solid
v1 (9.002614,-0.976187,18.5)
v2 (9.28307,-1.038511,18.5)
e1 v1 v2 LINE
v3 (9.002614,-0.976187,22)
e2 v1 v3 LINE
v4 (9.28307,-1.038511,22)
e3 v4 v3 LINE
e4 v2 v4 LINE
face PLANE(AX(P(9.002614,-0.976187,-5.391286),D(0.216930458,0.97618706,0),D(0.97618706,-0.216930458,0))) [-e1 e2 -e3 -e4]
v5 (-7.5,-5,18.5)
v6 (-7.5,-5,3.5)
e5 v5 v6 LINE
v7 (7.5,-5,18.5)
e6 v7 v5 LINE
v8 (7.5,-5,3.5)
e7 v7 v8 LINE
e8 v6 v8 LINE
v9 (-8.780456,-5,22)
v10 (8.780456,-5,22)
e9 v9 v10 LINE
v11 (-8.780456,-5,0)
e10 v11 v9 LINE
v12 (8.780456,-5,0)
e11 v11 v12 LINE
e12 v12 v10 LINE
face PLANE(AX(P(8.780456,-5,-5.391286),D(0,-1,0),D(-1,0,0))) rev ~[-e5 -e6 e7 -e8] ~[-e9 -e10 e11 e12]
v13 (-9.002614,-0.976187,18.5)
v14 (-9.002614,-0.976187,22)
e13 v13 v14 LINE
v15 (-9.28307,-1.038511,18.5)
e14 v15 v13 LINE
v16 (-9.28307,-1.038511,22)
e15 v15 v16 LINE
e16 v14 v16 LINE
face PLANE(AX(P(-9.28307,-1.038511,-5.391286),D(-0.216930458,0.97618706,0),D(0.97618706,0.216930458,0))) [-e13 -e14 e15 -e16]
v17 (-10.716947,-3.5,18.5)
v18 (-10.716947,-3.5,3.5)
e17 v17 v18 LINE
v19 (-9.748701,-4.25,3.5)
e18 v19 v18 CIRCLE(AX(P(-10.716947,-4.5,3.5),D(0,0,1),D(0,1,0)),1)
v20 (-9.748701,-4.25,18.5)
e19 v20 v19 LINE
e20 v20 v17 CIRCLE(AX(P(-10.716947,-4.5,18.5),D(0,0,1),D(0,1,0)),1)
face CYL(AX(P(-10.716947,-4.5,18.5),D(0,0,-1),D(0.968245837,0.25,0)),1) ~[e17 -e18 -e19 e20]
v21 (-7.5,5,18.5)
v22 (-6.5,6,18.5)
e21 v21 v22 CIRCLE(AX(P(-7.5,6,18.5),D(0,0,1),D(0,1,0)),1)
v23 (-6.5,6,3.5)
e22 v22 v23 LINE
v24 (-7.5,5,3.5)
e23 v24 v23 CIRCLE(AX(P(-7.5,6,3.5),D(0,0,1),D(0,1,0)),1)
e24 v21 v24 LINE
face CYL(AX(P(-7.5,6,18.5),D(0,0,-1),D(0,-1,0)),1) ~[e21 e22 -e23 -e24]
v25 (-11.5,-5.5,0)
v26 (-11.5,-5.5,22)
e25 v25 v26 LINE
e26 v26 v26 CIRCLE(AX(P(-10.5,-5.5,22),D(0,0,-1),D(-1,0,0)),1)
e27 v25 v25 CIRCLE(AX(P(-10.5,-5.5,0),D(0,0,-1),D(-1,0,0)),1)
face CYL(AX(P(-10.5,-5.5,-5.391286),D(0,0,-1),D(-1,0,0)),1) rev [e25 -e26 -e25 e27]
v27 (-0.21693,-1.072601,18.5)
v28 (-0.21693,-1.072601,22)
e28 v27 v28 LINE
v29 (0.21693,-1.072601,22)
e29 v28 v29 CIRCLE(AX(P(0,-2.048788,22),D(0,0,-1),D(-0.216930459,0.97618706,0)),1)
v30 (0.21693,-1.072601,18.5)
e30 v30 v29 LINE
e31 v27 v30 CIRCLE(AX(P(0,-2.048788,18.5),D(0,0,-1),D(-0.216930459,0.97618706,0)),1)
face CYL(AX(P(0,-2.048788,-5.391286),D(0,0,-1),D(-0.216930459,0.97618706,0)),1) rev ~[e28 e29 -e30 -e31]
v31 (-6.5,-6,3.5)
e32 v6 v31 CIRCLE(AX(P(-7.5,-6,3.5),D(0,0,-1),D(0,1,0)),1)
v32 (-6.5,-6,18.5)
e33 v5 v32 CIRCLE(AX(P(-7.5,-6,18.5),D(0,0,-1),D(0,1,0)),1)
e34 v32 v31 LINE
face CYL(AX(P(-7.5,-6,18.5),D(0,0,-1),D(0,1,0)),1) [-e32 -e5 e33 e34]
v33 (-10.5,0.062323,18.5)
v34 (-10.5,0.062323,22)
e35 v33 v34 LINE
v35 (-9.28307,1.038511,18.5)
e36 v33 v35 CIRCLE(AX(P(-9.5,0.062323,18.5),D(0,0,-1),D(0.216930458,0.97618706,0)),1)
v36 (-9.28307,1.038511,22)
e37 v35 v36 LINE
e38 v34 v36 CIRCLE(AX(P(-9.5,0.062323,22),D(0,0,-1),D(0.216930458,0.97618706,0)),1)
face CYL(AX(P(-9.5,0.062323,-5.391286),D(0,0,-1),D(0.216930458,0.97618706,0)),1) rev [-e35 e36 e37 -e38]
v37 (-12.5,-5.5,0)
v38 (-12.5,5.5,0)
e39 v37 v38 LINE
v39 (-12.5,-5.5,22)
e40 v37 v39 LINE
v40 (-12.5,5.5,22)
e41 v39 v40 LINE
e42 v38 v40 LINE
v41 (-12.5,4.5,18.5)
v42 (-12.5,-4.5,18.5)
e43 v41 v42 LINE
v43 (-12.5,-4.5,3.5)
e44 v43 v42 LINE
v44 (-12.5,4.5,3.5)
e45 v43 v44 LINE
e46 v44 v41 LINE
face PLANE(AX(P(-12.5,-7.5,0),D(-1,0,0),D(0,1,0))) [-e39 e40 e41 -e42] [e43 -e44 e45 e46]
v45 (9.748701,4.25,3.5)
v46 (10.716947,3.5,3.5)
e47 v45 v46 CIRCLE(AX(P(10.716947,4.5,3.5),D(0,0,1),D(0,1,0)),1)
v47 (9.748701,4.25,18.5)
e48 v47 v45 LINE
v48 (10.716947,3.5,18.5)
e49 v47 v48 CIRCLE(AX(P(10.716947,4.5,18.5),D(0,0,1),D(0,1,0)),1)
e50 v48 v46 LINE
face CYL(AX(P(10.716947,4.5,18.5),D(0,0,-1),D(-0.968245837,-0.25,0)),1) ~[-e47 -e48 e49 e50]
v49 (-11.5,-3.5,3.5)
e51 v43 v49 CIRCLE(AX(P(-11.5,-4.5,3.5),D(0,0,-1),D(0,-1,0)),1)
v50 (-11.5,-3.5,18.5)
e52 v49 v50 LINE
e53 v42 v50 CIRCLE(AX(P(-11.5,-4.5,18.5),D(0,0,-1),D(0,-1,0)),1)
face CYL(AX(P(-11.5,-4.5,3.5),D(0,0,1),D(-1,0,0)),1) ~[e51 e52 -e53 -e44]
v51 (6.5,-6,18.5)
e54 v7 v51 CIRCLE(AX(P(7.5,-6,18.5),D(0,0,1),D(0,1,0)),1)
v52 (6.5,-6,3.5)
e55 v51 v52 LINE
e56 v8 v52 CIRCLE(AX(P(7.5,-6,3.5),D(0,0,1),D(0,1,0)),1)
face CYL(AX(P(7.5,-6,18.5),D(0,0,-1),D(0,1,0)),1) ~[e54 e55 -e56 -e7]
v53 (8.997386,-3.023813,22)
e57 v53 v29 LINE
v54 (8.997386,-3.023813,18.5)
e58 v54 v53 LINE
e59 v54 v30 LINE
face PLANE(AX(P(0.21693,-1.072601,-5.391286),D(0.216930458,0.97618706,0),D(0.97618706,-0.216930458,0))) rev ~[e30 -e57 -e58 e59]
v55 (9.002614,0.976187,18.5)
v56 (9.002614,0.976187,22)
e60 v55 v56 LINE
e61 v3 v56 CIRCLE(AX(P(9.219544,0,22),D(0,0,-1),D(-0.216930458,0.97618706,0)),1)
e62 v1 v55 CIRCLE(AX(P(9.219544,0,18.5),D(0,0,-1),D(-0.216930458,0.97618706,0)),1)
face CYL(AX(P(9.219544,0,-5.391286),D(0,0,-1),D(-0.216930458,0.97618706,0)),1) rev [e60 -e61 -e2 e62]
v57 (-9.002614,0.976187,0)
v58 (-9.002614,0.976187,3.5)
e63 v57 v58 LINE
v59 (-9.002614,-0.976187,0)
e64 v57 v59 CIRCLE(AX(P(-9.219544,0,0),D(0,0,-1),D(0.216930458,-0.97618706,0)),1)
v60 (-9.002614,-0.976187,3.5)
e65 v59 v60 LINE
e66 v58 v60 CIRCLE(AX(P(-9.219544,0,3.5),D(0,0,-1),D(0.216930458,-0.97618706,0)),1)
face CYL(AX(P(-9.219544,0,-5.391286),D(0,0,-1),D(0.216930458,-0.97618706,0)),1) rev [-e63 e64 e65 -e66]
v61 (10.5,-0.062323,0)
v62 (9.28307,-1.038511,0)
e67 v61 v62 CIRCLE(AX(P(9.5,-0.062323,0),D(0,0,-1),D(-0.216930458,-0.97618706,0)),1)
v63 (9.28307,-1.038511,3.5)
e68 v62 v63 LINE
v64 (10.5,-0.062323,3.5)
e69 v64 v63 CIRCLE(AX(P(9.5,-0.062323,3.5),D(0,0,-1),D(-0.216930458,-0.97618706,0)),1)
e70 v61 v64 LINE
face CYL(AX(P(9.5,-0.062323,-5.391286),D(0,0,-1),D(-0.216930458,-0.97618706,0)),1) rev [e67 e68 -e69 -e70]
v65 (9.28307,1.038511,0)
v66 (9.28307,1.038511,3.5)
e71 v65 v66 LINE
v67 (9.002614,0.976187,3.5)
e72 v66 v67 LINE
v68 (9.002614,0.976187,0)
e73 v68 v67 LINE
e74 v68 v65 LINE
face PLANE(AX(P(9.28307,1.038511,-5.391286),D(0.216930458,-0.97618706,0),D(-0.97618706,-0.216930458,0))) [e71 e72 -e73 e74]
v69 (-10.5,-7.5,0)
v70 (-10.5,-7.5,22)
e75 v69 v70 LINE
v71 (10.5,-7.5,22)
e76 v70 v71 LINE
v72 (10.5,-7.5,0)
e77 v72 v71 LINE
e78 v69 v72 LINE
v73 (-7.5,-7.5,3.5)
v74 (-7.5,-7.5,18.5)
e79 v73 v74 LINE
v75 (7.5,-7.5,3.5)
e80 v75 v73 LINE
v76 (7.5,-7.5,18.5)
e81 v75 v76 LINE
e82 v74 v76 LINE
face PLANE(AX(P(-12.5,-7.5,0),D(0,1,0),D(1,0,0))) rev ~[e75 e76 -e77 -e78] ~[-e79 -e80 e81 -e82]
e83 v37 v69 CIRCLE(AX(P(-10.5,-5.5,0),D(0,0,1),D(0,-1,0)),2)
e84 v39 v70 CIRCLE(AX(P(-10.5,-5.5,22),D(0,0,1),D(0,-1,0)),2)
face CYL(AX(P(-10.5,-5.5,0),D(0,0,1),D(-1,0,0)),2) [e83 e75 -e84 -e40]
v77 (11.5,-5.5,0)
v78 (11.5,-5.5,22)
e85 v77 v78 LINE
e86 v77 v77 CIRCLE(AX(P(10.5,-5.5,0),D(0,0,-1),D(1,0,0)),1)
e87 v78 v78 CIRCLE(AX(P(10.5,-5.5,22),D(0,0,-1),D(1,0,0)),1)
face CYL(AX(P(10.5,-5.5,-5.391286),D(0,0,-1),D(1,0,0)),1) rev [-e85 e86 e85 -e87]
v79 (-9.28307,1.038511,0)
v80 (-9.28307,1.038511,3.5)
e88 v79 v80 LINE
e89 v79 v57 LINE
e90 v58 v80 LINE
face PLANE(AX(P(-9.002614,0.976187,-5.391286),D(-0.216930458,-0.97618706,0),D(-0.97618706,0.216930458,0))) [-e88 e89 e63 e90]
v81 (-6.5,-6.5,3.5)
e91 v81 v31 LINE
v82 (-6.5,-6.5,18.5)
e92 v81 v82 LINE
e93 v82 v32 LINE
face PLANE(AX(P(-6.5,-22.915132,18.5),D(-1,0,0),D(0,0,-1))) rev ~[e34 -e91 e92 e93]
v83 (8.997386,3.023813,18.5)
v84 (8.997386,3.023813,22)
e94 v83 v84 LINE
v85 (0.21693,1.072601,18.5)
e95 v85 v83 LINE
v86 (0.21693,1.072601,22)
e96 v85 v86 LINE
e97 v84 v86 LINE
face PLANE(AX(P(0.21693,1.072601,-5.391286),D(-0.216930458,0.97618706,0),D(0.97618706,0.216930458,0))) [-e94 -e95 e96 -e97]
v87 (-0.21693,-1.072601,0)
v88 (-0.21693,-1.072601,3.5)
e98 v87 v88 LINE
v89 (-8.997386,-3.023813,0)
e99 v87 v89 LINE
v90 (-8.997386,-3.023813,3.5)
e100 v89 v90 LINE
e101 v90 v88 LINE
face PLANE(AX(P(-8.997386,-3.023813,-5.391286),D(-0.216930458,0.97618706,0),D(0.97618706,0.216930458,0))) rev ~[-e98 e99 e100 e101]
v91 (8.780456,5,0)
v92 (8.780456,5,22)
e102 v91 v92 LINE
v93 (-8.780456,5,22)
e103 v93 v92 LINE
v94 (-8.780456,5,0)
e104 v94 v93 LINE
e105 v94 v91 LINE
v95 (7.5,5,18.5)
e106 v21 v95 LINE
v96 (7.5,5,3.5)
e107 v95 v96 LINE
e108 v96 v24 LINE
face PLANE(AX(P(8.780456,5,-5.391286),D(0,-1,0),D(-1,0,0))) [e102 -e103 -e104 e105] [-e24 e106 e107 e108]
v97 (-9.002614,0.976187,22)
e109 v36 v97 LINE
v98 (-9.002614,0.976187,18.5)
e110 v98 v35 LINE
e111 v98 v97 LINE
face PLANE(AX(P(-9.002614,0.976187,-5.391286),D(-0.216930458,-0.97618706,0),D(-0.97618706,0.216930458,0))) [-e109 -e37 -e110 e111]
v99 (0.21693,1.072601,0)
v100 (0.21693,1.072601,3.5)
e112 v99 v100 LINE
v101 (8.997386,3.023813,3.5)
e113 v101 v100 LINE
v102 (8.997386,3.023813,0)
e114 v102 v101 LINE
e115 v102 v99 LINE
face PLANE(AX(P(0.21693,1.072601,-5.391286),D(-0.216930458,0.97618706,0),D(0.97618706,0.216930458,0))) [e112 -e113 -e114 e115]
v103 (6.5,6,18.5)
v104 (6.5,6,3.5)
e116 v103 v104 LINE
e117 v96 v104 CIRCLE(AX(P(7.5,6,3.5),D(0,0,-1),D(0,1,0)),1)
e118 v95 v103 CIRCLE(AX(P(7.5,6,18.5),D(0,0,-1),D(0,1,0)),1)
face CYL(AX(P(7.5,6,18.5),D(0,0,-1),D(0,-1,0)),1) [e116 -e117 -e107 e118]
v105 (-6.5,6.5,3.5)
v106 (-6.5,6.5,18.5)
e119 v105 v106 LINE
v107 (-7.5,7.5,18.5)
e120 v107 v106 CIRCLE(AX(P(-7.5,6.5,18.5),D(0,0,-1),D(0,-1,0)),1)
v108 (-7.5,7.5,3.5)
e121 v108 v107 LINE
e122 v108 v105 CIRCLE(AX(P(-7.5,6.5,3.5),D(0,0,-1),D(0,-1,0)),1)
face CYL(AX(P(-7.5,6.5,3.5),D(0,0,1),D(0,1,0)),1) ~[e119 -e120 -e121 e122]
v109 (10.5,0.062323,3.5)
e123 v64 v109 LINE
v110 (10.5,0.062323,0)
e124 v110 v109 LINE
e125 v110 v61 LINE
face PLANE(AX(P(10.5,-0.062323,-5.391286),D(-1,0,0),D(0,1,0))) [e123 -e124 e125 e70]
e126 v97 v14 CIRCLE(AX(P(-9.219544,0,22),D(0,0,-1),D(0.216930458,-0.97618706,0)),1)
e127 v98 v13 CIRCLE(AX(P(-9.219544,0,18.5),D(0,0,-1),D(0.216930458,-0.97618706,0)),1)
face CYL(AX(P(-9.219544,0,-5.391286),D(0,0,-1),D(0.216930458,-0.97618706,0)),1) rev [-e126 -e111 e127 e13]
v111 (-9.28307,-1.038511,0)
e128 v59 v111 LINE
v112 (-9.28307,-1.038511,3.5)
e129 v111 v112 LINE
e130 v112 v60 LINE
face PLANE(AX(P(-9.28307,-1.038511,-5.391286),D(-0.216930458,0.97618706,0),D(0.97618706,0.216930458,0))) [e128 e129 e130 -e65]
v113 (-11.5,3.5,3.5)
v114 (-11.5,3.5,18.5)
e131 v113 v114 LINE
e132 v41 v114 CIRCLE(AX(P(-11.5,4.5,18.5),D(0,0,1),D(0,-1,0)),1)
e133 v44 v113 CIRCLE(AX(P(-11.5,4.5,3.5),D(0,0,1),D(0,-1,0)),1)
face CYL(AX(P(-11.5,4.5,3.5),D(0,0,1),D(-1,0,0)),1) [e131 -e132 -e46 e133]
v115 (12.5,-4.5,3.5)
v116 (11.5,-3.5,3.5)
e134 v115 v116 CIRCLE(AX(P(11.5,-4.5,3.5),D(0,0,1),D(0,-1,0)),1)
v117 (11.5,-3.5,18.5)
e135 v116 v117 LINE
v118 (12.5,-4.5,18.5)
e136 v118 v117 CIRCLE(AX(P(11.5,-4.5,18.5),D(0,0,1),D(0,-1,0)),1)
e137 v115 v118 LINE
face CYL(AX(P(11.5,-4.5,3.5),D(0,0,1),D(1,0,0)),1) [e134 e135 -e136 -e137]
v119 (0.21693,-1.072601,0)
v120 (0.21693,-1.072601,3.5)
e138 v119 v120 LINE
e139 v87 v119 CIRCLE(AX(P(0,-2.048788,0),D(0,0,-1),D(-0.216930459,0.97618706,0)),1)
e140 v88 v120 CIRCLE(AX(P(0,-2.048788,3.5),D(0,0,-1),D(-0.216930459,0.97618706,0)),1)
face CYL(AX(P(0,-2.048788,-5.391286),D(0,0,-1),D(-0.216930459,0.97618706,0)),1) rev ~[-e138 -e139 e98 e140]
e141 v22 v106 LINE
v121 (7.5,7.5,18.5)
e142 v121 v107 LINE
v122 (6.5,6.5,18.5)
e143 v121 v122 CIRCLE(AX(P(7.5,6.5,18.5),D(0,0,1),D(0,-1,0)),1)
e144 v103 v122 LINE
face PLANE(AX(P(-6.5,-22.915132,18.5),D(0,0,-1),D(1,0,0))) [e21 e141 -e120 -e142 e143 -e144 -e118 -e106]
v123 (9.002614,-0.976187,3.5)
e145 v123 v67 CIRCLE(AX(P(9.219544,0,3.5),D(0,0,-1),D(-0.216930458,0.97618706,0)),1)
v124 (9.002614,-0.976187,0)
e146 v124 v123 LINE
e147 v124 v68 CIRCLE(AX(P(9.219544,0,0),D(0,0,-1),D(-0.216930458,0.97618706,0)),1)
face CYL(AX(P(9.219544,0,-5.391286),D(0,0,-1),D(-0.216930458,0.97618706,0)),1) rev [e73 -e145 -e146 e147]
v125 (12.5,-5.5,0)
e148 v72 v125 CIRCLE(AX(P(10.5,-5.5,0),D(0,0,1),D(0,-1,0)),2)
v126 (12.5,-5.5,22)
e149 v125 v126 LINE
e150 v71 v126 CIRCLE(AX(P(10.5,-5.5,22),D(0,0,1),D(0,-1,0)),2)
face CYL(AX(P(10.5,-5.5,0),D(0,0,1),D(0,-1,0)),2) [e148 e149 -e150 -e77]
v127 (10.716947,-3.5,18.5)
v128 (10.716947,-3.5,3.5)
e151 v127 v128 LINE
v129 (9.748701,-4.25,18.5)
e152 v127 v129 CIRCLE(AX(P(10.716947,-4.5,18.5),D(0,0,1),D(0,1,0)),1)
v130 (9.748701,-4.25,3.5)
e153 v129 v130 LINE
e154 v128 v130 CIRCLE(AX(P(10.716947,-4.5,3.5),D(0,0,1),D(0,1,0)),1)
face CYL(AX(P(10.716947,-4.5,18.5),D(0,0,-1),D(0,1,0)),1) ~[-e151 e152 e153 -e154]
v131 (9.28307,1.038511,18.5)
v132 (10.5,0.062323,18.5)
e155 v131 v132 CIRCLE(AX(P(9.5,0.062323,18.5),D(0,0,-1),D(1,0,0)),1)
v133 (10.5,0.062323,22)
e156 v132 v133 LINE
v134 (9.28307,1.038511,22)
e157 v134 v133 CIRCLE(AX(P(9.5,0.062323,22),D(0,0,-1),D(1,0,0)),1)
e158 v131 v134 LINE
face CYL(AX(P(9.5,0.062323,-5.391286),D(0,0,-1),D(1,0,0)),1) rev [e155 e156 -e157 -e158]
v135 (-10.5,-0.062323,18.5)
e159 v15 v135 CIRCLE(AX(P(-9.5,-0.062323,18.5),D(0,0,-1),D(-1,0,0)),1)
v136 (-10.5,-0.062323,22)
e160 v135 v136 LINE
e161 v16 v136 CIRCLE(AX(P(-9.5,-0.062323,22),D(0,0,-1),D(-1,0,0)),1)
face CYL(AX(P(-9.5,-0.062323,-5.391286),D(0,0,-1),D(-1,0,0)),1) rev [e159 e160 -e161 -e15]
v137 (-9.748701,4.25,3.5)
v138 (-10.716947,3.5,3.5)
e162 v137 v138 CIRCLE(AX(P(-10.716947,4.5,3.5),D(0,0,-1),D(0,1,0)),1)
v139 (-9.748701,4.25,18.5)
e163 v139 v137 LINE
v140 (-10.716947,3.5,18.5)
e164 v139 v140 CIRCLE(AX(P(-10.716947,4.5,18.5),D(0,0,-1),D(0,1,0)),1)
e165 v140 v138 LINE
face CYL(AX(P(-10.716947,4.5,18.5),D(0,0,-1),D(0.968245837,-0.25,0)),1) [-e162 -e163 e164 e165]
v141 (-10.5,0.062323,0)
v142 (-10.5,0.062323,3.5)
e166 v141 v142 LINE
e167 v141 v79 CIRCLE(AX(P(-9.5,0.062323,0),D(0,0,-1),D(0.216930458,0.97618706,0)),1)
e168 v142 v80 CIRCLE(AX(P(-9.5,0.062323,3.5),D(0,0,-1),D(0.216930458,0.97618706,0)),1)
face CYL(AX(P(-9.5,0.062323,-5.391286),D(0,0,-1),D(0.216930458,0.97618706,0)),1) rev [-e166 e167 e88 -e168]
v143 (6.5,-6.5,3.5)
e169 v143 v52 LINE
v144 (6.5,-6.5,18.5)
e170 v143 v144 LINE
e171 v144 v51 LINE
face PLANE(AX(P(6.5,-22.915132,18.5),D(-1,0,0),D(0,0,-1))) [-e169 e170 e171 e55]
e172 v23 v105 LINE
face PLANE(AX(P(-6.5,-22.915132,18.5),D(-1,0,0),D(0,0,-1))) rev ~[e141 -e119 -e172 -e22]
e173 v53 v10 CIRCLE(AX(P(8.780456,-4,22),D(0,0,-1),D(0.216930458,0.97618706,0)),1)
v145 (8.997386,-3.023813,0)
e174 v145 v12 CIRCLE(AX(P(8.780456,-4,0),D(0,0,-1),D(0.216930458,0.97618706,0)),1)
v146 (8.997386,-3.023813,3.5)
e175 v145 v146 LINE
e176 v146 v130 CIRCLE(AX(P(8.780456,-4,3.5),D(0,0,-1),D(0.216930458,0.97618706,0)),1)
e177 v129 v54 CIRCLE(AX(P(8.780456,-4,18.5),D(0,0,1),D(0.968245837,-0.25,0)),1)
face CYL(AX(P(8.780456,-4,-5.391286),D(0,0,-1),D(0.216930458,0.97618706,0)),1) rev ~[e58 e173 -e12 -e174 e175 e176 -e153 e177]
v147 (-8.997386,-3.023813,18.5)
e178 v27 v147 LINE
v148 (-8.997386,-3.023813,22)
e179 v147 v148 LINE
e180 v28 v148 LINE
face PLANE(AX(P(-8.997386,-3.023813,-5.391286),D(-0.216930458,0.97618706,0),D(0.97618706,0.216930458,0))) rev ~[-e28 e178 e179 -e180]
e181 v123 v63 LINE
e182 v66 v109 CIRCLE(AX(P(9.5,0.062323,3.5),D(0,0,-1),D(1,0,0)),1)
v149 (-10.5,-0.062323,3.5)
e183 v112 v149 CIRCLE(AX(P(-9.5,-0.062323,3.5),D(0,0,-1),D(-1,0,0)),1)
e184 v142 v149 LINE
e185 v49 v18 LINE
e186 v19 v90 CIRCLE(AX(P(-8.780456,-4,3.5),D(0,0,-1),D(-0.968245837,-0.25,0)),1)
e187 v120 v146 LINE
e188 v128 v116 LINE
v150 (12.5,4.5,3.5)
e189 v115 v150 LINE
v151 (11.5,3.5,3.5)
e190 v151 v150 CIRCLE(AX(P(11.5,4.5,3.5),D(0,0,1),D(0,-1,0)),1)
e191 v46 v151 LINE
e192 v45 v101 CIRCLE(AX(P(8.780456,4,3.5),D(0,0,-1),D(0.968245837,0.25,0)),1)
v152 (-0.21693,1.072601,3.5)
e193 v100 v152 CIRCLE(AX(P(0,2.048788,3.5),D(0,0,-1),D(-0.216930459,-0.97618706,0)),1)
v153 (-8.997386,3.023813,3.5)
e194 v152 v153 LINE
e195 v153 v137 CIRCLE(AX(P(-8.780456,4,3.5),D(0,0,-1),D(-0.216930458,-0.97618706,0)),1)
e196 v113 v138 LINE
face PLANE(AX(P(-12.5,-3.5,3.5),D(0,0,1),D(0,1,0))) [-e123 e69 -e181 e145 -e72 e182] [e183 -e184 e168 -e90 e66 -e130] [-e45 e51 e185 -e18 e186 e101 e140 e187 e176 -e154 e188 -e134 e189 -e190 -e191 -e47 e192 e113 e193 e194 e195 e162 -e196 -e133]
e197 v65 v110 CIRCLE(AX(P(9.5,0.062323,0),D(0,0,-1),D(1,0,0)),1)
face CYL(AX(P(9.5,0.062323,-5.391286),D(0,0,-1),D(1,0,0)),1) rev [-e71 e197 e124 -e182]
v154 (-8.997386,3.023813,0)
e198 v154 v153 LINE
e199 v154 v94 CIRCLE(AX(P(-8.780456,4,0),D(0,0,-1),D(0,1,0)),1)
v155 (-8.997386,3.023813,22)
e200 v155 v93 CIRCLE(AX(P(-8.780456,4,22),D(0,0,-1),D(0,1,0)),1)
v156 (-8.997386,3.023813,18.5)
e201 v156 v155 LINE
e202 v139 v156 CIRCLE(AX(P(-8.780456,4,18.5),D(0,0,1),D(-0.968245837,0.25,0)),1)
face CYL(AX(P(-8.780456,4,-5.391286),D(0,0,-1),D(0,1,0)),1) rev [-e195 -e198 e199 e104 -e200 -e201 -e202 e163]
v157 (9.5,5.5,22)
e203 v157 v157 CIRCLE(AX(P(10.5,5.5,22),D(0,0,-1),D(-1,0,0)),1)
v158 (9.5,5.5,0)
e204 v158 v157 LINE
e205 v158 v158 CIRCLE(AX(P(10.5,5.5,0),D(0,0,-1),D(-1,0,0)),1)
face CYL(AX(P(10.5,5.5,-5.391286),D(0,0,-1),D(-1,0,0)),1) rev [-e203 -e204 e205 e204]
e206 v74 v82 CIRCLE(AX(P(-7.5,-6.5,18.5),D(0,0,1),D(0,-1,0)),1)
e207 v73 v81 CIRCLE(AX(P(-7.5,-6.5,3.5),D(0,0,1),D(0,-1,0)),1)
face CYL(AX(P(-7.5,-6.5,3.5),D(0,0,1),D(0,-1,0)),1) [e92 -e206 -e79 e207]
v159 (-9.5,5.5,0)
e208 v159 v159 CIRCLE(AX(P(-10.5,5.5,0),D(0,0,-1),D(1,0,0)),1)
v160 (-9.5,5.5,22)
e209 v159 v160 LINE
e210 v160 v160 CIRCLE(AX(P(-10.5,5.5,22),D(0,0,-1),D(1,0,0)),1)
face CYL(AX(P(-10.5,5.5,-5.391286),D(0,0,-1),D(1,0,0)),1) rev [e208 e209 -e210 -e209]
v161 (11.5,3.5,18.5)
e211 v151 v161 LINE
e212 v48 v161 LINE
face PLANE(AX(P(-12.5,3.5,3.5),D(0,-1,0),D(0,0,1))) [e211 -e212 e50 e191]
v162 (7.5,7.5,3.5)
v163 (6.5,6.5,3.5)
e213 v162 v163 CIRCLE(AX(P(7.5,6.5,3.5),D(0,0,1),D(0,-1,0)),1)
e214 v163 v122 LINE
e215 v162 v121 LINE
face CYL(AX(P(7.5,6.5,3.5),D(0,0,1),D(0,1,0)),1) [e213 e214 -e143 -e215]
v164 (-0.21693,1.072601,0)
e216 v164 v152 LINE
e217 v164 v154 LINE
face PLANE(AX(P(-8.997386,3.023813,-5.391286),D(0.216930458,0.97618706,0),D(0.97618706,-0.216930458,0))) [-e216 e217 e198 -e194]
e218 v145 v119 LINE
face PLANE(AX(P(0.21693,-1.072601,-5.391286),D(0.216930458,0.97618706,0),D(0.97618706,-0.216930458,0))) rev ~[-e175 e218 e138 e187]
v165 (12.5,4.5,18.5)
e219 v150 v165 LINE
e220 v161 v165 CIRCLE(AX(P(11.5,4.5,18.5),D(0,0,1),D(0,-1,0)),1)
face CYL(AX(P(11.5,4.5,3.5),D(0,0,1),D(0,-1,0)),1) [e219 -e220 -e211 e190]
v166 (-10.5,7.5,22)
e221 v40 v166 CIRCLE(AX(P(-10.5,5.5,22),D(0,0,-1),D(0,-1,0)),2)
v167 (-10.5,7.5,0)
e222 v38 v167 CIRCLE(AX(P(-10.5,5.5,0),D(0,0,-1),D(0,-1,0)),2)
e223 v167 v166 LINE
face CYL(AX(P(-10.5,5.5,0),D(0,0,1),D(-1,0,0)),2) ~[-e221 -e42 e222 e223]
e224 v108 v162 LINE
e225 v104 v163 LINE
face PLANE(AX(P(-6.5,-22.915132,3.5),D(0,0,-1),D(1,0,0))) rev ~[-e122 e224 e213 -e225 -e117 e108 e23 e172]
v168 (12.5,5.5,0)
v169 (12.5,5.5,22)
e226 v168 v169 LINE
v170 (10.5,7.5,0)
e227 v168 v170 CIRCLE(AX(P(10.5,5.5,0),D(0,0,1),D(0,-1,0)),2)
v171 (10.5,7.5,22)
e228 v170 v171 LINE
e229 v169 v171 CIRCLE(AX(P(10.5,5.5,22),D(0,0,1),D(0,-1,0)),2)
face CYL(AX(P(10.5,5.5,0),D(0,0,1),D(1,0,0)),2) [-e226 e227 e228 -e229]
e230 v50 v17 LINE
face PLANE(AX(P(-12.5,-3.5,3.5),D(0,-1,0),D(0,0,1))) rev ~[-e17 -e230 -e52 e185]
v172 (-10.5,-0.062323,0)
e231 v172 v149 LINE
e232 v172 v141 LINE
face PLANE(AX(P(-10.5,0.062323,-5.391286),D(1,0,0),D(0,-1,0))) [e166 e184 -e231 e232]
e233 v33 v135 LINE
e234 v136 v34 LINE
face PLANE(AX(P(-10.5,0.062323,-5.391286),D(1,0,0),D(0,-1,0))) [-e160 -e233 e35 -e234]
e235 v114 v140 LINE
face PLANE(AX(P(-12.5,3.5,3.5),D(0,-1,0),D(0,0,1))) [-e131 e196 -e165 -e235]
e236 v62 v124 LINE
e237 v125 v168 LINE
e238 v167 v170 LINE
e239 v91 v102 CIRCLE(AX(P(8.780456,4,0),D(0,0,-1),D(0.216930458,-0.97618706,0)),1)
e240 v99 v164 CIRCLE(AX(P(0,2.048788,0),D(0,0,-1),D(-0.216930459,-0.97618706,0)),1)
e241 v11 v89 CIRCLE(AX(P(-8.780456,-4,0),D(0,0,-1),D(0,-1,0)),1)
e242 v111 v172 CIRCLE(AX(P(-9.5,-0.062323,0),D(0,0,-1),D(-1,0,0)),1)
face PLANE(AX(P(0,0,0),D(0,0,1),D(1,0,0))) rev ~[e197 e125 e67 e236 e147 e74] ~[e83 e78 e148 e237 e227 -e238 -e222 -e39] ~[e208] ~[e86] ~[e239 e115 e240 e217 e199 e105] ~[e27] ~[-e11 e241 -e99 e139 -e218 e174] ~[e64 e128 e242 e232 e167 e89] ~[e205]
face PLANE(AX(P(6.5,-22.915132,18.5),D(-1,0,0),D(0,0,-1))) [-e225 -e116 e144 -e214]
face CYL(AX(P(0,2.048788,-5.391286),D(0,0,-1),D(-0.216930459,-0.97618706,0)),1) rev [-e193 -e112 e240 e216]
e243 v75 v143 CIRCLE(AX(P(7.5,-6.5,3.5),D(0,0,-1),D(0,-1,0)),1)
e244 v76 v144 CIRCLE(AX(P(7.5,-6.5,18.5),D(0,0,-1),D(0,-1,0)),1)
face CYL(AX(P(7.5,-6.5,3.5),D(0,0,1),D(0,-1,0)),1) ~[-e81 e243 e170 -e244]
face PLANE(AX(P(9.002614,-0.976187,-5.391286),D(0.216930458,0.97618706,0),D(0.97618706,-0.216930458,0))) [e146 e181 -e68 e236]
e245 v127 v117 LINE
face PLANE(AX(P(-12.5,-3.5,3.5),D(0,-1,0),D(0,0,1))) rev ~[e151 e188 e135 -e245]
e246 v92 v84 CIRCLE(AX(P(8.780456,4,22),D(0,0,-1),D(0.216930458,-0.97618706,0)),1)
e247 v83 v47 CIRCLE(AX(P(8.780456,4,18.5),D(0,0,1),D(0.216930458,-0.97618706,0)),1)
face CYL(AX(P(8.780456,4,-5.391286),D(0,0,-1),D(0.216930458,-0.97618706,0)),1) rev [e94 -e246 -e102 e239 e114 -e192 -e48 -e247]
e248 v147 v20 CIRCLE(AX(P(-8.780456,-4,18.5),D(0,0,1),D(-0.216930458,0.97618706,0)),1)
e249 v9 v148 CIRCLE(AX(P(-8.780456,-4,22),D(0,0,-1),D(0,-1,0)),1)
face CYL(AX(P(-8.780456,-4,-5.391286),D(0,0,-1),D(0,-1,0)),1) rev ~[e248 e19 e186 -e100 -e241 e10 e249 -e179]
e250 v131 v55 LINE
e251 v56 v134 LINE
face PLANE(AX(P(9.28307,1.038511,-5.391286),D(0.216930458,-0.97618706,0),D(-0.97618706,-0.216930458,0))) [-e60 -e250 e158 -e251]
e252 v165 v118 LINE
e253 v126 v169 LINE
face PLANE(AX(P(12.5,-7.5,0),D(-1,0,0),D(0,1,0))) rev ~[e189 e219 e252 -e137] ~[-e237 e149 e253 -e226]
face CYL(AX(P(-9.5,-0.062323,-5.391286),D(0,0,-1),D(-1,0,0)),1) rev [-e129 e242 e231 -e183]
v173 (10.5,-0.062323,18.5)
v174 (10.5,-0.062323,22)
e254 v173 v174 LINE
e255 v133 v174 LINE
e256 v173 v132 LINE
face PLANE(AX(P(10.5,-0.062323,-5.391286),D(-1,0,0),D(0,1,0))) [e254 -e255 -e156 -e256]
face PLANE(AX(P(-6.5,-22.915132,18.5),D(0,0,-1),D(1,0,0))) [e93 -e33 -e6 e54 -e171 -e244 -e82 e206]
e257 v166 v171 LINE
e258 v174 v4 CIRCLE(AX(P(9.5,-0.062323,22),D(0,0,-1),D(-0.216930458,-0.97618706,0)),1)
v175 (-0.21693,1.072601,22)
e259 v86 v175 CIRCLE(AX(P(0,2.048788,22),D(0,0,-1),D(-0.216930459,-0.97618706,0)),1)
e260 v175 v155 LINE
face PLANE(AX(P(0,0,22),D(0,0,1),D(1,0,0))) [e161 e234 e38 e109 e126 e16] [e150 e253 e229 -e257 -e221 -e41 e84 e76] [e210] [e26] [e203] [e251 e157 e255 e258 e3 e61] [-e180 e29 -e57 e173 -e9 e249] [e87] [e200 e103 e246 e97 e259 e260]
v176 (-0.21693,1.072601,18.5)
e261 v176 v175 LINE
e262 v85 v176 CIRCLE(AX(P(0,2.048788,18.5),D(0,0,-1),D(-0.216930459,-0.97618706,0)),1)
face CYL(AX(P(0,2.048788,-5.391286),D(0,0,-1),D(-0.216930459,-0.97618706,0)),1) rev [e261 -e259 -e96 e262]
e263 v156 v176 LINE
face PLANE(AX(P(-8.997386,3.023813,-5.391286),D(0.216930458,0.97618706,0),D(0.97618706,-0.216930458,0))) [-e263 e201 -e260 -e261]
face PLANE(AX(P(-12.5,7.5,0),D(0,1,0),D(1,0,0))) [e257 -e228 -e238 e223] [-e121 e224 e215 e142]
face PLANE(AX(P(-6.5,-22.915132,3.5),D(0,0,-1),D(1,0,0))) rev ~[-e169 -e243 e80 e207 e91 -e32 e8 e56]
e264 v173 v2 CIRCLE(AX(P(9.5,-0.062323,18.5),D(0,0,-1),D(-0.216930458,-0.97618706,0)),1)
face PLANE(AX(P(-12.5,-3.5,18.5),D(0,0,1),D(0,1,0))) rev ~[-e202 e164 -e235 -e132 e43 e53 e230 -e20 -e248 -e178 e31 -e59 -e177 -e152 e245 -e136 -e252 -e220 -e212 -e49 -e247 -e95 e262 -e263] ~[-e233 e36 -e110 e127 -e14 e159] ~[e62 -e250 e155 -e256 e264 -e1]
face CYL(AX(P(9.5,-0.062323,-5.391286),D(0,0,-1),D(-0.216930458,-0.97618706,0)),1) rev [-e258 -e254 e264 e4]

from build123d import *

# Parameters (mm, degrees)
SKETCH_1_W               = 25
SKETCH_1_H               = 15
EXTRUDE_1_DEPTH          = 22
FILLET_4_R               = 2
CUT_EXTRUDE_3_DEPTH      = 27.391286441
CUT_EXTRUDE_3_DEPTH_BACK = 27.391286441
CUT_EXTRUDE_4_DEPTH      = 27.391286441
CUT_EXTRUDE_4_DEPTH_BACK = 27.391286441
SKETCH_3_R               = 1
CUT_EXTRUDE_5_DEPTH      = 30.41513216
CUT_EXTRUDE_5_DEPTH_BACK = 30.41513216
SKETCH_4_W               = 13
SKETCH_4_H               = 15
SKETCH_5_W               = 15
SKETCH_5_H               = 7
CUT_EXTRUDE_6_DEPTH      = 35.135758377
FILLET_5_R               = 1


with BuildPart() as part:
    # 草图1 → 凸台-拉伸1 (new body)
    with BuildSketch(Plane.XY):
        Rectangle(SKETCH_1_W, SKETCH_1_H)
    extrude(amount=EXTRUDE_1_DEPTH)

    # 圆角4
    fillet_4_edges = [part.edges().sort_by_distance(p)[0] for p in [
        (12.5, -7.5, 11),
        (-12.5, -7.5, 11),
        (-12.5, 7.5, 11),
        (12.5, 7.5, 11),
    ]]
    fillet(fillet_4_edges, radius=FILLET_4_R)

    # 草图2 → 切除-拉伸3 (cut, two sides: drawn at the far end of the back side and taken through both)
    with BuildSketch(Plane.XY.offset(22).offset(-CUT_EXTRUDE_3_DEPTH_BACK)):
        with BuildLine():
            Line((-10.5, 0.062323454), (-10.5, -0.062323454))
            ThreePointArc((-10.5, -0.062323454), (-10.125727394, -0.842365266), (-9.283069542, -1.038510514))
            Line((-9.283069542, -1.038510514), (-9.002613999, -0.97618706))
            ThreePointArc((-9.002613999, -0.97618706), (-8.219544457, 0), (-9.002613999, 0.97618706))
            Line((-9.002613999, 0.97618706), (-9.283069542, 1.038510514))
            ThreePointArc((-9.283069542, 1.038510514), (-10.125727394, 0.842365266), (-10.5, 0.062323454))
        make_face()
        with BuildLine():
            Line((0.216930458, 1.072600597), (8.997386001, 3.02381294))
            ThreePointArc((8.997386001, 3.02381294), (9.774484481, 4.109116772), (8.780455543, 5))
            Line((8.780455543, 5), (-8.780455543, 5))
            ThreePointArc((-8.780455543, 5), (-9.774484481, 4.109116772), (-8.997386001, 3.02381294))
            Line((-8.997386001, 3.02381294), (-0.216930458, 1.072600597))
            ThreePointArc((-0.216930458, 1.072600597), (0, 1.048787657), (0.216930458, 1.072600597))
        make_face()
        with BuildLine():
            Line((9.283069542, 1.038510514), (9.002613999, 0.97618706))
            ThreePointArc((9.002613999, 0.97618706), (8.219544457, 0), (9.002613999, -0.97618706))
            Line((9.002613999, -0.97618706), (9.283069542, -1.038510514))
            ThreePointArc((9.283069542, -1.038510514), (10.125727394, -0.842365266), (10.5, -0.062323454))
            Line((10.5, -0.062323454), (10.5, 0.062323454))
            ThreePointArc((10.5, 0.062323454), (10.125727394, 0.842365266), (9.283069542, 1.038510514))
        make_face()
        with BuildLine():
            Line((8.780455543, -5), (-8.780455543, -5))
            ThreePointArc((-8.780455543, -5), (-9.774484481, -4.109116772), (-8.997386001, -3.02381294))
            Line((-8.997386001, -3.02381294), (-0.216930458, -1.072600597))
            ThreePointArc((-0.216930458, -1.072600597), (0, -1.048787657), (0.216930458, -1.072600597))
            Line((0.216930458, -1.072600597), (8.997386001, -3.02381294))
            ThreePointArc((8.997386001, -3.02381294), (9.774484481, -4.109116772), (8.780455543, -5))
        make_face()
    extrude(amount=CUT_EXTRUDE_3_DEPTH + CUT_EXTRUDE_3_DEPTH_BACK, mode=Mode.SUBTRACT)

    # 草图3 → 切除-拉伸4 (cut, two sides: drawn at the far end of the back side and taken through both)
    with BuildSketch(Plane.XY.offset(22).offset(-CUT_EXTRUDE_4_DEPTH_BACK)):
        with Locations((-10.5, 5.5)):
            Circle(SKETCH_3_R)
        with Locations(Location((10.5, 5.5, 0), (0, 0, 180))):
            Circle(SKETCH_3_R)
        with Locations((10.5, -5.5)):
            Circle(SKETCH_3_R)
        with Locations(Location((-10.5, -5.5, 0), (0, 0, 180))):
            Circle(SKETCH_3_R)
    extrude(amount=CUT_EXTRUDE_4_DEPTH + CUT_EXTRUDE_4_DEPTH_BACK, mode=Mode.SUBTRACT)

    # 草图4 → 切除-拉伸5 (cut, two sides: drawn at the far end of the back side and taken through both)
    with BuildSketch(Plane(origin=(0, 7.5, 0), x_dir=(1, 0, 0), z_dir=(0, 1, 0)).offset(-CUT_EXTRUDE_5_DEPTH_BACK)):
        with Locations((0, -11)):
            Rectangle(SKETCH_4_W, SKETCH_4_H)
    extrude(amount=CUT_EXTRUDE_5_DEPTH + CUT_EXTRUDE_5_DEPTH_BACK, mode=Mode.SUBTRACT)

    # 草图5 → 切除-拉伸6 (cut, through all)
    with BuildSketch(Plane.ZY.offset(12.5)):
        with Locations((11, 0)):
            Rectangle(SKETCH_5_W, SKETCH_5_H)
    extrude(amount=-CUT_EXTRUDE_6_DEPTH, mode=Mode.SUBTRACT)

    # 圆角5
    fillet_5_edges = [part.edges().sort_by_distance(p)[0] for p in [
        (-6.5, 5, 11),
        (-6.5, 7.5, 11),
        (-6.5, -5, 11),
        (-6.5, -7.5, 11),
        (6.5, 7.5, 11),
        (6.5, 5, 11),
        (6.5, -5, 11),
        (6.5, -7.5, 11),
        (9.646480946, 3.5, 11),
        (-9.646480946, -3.5, 11),
        (9.646480946, -3.5, 11),
        (12.5, -3.5, 11),
        (-9.646480946, 3.5, 11),
        (12.5, 3.5, 11),
        (-12.5, 3.5, 11),
        (-12.5, -3.5, 11),
    ]]
    fillet(fillet_5_edges, radius=FILLET_5_R)


solid = part.part
